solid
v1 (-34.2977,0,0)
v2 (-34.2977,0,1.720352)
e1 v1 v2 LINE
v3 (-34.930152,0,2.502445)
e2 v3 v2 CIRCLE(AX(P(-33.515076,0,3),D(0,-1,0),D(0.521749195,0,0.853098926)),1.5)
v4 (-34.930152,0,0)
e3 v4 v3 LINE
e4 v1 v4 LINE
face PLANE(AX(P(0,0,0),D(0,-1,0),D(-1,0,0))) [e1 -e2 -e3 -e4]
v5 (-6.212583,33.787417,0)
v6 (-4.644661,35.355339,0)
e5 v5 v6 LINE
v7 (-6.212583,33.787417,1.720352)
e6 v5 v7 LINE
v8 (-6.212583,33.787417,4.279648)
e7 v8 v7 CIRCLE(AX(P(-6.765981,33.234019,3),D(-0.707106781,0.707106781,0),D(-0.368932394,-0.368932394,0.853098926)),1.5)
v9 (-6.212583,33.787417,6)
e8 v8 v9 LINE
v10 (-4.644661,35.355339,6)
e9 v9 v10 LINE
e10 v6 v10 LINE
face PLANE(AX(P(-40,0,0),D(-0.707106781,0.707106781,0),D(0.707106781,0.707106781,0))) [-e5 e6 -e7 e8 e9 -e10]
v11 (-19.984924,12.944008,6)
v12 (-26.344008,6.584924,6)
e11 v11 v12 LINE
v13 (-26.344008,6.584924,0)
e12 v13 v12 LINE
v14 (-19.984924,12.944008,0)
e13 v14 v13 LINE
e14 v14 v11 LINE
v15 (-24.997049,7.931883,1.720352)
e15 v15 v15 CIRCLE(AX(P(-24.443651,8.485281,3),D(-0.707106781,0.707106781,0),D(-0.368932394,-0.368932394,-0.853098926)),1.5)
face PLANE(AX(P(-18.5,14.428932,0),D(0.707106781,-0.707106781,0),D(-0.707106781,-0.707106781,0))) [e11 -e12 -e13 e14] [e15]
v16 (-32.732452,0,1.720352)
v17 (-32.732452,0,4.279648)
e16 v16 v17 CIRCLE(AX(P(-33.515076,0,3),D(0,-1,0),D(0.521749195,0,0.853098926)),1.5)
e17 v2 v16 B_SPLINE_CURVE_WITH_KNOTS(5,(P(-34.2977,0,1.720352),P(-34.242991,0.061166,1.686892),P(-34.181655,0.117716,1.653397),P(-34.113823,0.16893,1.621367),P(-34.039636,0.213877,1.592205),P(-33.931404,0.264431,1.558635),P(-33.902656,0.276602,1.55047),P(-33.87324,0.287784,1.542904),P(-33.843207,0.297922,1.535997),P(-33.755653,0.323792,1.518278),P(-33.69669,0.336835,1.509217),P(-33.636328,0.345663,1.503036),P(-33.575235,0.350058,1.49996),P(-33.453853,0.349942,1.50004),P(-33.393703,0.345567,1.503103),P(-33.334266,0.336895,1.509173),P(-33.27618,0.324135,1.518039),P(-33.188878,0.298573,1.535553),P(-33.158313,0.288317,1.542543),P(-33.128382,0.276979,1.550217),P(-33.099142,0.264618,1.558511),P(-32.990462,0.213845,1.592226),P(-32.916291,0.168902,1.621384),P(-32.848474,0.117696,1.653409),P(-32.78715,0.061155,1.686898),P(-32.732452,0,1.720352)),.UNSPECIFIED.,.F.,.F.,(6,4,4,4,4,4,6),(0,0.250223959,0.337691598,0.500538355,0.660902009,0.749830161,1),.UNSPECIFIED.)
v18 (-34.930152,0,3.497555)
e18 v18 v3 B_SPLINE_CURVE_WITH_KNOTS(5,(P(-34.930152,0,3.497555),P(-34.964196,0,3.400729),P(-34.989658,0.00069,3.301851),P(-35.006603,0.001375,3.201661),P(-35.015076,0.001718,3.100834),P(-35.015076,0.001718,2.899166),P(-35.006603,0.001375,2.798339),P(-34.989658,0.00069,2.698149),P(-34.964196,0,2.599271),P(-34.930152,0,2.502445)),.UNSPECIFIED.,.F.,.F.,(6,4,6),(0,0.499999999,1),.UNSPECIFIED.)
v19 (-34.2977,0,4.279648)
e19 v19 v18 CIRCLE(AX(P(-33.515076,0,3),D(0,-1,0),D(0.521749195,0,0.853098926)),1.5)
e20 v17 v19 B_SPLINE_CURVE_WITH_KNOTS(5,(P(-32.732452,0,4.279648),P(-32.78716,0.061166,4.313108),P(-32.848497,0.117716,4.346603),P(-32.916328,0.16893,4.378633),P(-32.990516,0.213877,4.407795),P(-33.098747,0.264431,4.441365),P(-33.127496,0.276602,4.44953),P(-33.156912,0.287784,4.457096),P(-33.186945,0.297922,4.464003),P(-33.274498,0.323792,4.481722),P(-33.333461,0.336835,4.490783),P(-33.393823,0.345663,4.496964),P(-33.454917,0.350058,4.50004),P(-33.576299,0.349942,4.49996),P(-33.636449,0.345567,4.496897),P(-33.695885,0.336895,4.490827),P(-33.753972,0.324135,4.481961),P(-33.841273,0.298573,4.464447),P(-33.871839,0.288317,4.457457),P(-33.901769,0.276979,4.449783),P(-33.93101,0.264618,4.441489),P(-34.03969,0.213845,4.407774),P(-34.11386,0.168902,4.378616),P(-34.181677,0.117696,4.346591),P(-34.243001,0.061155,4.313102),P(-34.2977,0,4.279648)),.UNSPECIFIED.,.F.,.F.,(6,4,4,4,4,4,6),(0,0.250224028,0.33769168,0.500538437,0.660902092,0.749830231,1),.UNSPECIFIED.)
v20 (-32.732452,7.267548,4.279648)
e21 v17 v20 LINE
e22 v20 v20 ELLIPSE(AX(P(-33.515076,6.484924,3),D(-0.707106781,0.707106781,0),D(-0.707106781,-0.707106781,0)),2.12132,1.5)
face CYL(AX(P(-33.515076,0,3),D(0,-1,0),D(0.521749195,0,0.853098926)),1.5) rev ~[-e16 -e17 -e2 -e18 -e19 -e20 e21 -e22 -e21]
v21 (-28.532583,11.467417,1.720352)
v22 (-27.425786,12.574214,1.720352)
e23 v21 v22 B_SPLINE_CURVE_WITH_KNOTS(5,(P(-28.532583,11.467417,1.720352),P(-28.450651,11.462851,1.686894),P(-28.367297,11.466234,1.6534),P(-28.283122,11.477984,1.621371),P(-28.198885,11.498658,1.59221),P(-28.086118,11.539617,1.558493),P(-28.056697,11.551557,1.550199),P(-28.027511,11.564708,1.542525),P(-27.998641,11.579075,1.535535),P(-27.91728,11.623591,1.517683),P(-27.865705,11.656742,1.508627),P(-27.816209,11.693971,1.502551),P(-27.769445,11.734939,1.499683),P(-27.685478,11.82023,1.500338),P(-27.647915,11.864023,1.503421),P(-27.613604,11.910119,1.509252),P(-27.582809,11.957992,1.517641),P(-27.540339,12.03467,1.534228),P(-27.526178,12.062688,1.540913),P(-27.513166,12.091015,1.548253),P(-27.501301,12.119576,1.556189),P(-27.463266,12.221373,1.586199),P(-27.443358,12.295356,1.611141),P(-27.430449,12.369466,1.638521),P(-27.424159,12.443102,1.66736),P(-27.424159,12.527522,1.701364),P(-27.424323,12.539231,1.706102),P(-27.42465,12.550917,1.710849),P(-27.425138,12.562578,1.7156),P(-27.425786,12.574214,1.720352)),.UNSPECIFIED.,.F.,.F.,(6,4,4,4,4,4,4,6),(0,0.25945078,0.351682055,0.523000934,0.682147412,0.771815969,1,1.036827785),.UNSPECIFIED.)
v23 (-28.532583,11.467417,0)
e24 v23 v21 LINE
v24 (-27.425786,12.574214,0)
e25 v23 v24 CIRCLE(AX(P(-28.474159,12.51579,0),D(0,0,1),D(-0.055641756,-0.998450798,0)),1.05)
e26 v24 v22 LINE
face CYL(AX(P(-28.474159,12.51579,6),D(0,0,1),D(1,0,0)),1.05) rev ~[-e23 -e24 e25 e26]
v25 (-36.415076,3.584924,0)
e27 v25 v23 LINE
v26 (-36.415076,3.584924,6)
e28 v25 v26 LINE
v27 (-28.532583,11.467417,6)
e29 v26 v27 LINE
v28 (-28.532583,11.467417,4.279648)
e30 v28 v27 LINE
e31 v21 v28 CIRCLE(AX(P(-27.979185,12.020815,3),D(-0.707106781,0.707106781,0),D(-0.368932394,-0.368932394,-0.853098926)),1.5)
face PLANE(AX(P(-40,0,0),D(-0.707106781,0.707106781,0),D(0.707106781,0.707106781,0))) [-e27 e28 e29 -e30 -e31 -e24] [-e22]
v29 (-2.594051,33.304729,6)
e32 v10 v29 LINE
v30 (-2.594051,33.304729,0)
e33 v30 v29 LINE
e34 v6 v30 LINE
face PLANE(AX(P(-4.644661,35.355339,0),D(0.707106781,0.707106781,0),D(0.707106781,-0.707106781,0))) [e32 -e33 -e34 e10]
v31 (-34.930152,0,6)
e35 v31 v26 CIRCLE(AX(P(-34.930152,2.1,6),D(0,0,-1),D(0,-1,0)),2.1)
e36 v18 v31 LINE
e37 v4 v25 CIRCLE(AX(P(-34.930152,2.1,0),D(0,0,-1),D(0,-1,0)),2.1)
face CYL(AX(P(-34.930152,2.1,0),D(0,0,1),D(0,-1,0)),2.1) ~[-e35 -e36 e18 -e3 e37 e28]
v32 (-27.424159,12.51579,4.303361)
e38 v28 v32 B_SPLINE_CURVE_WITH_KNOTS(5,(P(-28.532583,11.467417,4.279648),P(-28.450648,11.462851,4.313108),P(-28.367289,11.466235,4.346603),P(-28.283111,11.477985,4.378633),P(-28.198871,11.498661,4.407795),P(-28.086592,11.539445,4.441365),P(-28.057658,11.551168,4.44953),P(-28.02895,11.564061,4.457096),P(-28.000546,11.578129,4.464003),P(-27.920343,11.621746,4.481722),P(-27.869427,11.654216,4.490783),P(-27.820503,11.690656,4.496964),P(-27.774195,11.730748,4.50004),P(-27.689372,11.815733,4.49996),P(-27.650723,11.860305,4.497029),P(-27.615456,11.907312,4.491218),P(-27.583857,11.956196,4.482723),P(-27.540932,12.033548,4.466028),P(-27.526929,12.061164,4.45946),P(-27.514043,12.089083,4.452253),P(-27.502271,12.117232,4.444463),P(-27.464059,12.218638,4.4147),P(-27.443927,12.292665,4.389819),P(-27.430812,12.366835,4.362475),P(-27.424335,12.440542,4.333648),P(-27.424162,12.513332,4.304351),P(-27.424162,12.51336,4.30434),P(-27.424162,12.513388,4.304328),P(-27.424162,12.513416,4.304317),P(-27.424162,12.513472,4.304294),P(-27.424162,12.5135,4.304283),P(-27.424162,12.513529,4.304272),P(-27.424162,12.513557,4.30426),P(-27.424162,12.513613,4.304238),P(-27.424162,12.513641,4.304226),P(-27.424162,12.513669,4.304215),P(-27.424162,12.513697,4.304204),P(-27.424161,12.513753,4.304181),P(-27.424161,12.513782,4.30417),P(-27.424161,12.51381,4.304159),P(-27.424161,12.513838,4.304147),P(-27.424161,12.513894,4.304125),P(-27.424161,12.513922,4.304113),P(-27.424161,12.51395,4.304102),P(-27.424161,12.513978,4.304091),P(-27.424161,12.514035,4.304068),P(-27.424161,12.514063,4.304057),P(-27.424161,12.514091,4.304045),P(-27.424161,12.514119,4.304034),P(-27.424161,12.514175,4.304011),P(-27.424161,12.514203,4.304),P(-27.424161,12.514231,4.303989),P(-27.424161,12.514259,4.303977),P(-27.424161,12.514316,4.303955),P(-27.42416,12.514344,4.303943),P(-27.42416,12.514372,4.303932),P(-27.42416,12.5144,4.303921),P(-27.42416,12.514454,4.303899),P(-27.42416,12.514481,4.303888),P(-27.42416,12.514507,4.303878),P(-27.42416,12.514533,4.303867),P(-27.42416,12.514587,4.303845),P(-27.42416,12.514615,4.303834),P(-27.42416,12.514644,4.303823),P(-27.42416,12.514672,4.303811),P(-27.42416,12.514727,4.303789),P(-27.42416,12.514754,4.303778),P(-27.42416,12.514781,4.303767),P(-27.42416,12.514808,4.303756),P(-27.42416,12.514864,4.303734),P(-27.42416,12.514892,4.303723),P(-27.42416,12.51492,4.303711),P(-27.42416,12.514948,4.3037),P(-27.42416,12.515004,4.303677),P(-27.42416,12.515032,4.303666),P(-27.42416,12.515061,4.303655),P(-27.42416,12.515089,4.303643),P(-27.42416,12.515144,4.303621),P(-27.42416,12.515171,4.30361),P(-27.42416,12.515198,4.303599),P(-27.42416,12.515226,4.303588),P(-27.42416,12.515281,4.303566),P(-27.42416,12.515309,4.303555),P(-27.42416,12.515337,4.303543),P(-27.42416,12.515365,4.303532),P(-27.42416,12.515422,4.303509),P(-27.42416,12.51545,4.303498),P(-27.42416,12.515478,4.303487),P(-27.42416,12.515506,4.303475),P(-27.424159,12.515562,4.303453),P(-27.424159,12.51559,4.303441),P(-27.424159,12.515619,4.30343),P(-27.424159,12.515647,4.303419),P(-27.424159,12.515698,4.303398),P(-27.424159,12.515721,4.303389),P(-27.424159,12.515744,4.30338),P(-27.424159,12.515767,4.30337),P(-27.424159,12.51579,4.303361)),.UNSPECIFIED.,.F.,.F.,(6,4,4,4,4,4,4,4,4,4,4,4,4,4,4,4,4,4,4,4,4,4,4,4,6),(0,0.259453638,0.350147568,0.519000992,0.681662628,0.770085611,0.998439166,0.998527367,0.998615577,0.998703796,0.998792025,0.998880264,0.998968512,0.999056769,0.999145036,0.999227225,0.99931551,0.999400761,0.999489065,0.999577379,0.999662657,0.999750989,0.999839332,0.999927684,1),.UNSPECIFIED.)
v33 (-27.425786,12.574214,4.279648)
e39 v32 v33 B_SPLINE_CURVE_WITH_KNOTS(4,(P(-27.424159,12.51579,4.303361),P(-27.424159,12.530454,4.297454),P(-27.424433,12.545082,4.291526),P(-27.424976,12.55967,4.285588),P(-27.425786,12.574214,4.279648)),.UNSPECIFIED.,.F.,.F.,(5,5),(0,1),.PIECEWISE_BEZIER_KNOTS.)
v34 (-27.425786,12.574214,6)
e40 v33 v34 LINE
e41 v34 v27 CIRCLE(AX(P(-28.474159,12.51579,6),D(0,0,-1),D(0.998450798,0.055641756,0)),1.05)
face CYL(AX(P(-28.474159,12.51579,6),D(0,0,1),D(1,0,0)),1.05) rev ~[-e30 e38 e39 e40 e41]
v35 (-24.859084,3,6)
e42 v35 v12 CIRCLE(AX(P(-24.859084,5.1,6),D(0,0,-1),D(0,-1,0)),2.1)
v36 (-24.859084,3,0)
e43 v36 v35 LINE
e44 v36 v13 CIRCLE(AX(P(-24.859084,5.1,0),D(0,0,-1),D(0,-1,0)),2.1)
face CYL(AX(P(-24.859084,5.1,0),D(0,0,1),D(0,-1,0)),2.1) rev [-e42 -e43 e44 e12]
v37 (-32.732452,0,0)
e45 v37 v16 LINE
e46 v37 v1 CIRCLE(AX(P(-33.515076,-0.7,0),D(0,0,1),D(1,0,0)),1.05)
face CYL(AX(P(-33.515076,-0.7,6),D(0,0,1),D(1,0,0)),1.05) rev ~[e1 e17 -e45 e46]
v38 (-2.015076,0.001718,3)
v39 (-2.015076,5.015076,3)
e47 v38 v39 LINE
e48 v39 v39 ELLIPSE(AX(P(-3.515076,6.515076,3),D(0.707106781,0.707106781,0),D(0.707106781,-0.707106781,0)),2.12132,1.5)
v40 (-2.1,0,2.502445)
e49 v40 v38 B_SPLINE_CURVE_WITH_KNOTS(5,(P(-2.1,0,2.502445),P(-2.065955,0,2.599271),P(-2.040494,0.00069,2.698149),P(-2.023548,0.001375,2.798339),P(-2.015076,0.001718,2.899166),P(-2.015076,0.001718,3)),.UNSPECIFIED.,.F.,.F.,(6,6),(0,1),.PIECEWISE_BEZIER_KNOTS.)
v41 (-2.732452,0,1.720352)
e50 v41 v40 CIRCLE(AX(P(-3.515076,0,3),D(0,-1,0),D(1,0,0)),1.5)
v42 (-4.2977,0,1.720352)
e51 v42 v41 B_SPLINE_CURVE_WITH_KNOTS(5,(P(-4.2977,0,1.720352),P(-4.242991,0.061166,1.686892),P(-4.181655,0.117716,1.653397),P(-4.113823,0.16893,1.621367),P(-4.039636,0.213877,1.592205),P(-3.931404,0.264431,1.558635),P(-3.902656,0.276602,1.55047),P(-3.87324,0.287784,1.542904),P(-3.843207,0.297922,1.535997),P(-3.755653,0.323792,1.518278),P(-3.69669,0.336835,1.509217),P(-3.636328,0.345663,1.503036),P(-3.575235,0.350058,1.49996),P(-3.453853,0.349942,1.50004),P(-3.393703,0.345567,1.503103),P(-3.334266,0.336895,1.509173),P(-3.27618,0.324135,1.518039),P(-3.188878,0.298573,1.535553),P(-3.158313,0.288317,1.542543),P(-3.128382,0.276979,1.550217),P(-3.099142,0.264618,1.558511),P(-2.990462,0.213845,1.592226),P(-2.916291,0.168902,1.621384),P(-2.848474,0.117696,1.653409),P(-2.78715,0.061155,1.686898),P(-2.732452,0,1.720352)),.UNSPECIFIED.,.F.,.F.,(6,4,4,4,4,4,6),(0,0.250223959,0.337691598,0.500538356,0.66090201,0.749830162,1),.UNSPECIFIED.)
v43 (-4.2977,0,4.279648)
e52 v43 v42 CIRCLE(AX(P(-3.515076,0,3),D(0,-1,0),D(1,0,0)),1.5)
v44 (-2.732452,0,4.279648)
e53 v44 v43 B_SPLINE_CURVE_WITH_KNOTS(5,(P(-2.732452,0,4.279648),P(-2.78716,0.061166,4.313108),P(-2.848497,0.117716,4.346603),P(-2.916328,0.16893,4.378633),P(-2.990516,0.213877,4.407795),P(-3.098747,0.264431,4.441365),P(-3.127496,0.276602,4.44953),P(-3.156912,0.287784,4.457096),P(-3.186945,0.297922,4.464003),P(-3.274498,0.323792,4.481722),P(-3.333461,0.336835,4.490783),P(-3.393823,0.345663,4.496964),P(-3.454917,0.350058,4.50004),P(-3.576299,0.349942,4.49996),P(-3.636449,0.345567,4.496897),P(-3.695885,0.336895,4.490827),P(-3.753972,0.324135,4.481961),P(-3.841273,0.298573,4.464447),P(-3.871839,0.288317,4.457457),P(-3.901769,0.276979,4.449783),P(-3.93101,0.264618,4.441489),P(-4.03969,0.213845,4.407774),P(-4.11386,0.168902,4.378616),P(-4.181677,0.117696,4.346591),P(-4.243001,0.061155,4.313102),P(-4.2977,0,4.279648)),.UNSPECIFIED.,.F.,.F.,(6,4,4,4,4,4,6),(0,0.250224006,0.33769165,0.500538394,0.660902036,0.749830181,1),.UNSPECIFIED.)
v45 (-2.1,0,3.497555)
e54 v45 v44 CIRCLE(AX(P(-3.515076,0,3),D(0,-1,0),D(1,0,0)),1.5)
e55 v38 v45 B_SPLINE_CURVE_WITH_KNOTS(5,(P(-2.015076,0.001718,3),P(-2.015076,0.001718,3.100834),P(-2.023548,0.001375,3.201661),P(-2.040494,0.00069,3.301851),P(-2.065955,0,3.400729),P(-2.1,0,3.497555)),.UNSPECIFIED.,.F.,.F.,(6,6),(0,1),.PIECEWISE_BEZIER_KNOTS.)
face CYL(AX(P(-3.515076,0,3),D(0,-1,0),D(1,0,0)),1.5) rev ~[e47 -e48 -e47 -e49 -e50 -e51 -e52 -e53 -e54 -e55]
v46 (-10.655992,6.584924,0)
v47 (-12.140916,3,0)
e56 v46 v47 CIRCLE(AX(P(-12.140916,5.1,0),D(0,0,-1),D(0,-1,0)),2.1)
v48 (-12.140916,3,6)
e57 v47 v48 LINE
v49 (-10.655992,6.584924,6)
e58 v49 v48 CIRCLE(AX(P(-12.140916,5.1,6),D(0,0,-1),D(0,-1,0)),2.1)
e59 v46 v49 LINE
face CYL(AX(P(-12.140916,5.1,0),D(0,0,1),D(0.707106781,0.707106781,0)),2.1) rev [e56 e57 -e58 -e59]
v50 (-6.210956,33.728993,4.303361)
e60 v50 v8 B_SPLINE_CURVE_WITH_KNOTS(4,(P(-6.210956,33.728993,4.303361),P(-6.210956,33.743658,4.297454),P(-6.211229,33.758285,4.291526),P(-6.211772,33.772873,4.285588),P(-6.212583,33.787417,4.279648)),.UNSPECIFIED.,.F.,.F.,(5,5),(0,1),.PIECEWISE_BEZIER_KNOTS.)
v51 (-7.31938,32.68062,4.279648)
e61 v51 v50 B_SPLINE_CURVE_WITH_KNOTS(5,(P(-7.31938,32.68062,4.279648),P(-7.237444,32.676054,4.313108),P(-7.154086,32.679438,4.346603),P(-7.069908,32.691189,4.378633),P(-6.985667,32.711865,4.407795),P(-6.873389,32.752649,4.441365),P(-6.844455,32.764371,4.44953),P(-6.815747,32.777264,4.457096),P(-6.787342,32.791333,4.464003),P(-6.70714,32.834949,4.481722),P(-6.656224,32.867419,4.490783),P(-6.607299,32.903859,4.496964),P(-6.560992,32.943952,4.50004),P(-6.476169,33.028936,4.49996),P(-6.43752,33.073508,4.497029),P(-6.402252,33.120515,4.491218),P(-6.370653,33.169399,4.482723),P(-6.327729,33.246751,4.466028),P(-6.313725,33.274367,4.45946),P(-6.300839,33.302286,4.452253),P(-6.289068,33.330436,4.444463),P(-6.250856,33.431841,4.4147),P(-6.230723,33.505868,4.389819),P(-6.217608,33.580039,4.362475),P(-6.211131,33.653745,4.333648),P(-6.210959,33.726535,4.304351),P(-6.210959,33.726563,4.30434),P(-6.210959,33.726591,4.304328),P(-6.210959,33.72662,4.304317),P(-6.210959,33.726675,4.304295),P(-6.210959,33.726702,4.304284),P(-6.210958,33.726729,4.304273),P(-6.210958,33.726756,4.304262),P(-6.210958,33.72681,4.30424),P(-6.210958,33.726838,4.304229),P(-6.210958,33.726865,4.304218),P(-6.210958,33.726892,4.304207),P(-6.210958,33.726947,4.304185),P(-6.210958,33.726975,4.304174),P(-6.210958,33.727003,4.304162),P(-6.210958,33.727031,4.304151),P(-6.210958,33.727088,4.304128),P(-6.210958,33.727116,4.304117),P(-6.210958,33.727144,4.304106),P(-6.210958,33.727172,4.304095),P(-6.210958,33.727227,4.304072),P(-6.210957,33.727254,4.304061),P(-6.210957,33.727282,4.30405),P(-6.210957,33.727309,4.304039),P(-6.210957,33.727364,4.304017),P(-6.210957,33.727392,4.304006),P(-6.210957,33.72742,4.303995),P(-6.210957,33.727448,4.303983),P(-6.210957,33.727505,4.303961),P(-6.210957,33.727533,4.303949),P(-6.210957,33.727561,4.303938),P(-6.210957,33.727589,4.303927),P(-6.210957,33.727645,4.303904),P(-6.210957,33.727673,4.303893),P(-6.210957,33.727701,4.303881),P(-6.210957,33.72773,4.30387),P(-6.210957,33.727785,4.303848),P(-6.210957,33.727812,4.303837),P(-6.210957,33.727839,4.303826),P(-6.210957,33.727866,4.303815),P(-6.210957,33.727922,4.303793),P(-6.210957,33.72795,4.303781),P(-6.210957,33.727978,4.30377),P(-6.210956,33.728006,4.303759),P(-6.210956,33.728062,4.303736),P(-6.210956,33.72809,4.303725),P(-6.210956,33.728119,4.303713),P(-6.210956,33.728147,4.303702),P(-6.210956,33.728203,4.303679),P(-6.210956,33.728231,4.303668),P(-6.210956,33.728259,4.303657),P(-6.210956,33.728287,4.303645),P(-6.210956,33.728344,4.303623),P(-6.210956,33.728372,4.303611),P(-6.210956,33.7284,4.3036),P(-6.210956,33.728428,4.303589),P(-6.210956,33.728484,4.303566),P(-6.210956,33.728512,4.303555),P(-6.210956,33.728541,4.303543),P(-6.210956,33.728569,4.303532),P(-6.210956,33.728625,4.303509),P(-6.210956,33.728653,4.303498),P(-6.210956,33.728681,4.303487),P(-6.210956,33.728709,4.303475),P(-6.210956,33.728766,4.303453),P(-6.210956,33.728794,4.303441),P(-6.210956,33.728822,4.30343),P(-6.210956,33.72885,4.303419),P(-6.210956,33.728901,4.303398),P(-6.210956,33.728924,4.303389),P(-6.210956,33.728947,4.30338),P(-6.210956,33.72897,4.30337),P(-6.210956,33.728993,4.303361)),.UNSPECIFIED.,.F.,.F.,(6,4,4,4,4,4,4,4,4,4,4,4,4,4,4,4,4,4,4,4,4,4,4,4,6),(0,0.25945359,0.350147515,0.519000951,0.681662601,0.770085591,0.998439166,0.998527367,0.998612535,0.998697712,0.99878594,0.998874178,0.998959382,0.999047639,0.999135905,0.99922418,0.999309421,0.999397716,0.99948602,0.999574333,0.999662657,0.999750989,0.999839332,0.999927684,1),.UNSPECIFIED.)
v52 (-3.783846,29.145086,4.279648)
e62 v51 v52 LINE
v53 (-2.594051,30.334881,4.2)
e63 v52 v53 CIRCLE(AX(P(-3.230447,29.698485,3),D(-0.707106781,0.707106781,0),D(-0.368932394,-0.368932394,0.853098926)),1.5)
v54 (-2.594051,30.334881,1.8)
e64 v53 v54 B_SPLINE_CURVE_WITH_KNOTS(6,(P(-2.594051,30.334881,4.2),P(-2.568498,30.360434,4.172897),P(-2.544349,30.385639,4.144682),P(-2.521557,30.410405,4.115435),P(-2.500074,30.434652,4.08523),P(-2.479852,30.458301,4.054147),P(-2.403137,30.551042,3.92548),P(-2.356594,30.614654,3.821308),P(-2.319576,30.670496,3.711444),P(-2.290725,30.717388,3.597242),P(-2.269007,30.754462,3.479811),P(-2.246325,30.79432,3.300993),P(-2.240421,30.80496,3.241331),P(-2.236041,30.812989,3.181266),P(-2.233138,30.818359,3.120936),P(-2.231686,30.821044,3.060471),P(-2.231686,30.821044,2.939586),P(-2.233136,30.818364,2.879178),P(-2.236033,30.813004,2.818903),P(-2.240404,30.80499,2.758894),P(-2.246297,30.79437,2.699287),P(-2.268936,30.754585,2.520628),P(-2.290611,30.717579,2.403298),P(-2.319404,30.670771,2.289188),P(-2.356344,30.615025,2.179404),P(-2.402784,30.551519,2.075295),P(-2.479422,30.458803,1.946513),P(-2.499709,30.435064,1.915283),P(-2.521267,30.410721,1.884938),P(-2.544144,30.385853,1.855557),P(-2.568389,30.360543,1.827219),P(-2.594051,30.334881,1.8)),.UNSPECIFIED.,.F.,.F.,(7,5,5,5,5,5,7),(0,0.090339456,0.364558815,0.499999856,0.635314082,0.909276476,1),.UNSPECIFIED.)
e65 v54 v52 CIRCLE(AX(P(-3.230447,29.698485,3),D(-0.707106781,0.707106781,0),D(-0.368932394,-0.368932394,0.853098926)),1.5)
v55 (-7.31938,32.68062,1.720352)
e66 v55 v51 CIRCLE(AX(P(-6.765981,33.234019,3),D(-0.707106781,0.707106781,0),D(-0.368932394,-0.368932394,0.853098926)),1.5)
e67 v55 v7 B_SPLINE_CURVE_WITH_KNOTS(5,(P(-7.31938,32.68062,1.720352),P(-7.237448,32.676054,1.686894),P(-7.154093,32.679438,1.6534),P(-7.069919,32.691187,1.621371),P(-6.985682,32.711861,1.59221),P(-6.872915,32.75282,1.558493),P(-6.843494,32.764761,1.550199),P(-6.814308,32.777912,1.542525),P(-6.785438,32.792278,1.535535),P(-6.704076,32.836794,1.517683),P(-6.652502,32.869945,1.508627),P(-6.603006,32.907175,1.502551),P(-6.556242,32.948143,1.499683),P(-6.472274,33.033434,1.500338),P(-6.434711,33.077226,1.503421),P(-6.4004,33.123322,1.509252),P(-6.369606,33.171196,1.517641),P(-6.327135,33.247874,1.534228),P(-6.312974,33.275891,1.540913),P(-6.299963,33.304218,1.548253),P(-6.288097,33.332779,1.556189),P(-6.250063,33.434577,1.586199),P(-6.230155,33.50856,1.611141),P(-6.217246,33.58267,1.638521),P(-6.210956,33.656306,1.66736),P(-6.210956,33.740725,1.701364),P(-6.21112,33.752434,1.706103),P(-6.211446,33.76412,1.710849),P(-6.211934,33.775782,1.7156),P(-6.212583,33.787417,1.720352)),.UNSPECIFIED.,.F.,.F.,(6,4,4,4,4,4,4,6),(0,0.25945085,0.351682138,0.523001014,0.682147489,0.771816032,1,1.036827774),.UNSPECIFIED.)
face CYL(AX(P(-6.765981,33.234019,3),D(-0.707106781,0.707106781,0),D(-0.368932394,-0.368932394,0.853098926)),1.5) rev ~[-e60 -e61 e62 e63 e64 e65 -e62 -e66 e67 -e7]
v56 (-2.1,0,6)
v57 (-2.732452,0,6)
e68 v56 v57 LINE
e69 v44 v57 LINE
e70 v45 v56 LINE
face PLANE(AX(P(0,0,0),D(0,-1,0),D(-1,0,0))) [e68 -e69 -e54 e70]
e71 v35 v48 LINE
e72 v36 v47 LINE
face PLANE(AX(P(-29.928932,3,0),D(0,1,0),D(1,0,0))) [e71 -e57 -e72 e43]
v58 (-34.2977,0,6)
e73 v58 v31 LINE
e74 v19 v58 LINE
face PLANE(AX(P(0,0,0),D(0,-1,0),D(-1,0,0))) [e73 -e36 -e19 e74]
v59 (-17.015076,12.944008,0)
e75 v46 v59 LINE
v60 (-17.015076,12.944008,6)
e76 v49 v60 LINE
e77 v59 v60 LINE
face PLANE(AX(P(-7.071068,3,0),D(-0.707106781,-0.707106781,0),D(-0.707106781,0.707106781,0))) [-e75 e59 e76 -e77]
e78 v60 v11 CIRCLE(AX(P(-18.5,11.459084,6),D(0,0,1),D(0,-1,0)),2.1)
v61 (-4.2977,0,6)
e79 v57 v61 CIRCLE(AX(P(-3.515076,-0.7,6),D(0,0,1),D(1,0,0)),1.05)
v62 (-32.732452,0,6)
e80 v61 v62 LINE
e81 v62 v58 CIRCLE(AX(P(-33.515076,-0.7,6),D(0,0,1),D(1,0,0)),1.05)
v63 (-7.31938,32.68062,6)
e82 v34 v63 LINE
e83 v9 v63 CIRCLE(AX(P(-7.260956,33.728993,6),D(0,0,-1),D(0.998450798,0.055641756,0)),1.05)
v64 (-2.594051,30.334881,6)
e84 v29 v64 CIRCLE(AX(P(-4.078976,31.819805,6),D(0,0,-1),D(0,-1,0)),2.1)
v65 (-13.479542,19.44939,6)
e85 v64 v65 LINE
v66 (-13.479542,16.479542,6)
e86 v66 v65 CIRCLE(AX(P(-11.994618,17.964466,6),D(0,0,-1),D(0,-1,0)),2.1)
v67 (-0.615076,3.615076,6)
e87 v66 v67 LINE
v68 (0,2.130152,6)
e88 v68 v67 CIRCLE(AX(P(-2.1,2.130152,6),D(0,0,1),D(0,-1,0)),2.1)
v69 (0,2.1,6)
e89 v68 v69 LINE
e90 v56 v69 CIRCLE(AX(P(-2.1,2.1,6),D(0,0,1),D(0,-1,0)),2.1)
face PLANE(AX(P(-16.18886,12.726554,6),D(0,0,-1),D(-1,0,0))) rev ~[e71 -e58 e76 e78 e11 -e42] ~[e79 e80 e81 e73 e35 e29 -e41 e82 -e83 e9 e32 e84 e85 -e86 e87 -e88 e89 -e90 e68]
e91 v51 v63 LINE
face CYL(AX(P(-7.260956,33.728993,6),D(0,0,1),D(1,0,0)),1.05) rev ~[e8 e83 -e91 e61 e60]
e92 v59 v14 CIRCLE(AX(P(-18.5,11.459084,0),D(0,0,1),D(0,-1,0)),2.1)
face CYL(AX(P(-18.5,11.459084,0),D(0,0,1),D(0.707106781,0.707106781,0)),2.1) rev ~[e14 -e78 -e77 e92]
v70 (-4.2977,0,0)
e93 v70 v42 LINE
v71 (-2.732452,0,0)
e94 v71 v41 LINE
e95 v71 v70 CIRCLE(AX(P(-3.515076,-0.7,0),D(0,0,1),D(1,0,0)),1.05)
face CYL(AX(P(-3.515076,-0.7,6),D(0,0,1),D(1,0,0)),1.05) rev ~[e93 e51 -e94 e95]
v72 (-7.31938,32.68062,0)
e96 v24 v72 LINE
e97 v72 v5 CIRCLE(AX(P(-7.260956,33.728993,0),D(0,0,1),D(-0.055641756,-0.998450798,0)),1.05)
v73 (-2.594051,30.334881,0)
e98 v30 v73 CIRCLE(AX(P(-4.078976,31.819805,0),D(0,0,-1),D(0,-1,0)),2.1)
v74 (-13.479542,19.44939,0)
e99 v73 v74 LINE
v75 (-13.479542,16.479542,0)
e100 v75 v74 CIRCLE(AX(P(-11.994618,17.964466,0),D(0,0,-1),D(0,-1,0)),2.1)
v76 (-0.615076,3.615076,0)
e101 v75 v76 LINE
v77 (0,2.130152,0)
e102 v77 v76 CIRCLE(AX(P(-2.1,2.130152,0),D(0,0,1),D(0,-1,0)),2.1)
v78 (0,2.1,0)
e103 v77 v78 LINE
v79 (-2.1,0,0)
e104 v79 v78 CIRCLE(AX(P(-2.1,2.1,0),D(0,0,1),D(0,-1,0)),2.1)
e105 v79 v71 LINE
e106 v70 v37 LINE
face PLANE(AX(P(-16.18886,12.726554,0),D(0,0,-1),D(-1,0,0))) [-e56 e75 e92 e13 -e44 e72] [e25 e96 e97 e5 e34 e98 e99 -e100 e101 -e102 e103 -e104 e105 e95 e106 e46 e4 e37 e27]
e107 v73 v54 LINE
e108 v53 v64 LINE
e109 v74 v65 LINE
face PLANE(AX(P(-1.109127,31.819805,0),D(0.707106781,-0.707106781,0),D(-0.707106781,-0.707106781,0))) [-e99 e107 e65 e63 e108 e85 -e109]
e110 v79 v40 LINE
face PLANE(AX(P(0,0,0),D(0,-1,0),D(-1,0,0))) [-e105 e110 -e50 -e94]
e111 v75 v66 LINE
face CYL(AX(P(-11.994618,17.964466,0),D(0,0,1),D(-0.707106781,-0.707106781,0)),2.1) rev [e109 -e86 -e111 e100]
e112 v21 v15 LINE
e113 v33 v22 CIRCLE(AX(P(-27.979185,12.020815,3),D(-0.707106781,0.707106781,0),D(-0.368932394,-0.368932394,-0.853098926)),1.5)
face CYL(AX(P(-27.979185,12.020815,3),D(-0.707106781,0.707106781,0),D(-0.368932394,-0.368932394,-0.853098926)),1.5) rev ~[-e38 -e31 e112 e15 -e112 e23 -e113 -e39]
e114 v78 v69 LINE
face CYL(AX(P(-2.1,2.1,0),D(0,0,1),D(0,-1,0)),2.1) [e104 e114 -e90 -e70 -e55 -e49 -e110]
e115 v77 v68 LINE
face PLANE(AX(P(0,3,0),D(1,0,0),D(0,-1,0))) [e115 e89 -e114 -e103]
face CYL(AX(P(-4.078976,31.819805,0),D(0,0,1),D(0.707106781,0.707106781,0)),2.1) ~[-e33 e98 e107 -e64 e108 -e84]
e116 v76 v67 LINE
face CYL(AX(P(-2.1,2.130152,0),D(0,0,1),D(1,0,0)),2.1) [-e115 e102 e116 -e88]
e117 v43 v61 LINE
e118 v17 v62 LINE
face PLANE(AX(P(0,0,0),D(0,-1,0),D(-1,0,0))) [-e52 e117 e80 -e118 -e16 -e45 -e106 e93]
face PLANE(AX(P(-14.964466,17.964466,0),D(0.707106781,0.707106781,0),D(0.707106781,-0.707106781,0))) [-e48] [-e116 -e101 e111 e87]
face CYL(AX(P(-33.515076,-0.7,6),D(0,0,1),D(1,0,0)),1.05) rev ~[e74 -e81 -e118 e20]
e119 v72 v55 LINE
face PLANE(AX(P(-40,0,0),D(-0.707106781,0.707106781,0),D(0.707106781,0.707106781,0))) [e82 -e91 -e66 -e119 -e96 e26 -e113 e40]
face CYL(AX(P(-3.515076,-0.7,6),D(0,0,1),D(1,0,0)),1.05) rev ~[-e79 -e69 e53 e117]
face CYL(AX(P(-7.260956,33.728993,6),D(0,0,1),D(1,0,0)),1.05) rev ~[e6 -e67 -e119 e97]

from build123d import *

# Parameters (mm, degrees)
EXTRUDE_1_DEPTH     = 6
FILLET_1_R          = 2.1
SKETCH_2_R          = 1.05
CUT_EXTRUDE_1_DEPTH = 52.548347418
CUT_EXTRUDE_2_REACH = 30.914
SKETCH_3_R          = 1.5
CUT_EXTRUDE_3_REACH = 53.548
SKETCH_4_R          = 1.5


with BuildPart() as part:
    # ｽｹｯﾁ1 → ﾎﾞｽ - 押し出し1 (new body)
    with BuildSketch(Plane.XY):
        Polygon((0, 0), (-40, 0), (-4.644660941, 35.355339059), (-1.109127035, 31.819805153), (-14.964466094, 17.964466094), (0, 3), align=None)
        Polygon((-18.5, 14.428932188), (-29.928932188, 3), (-7.071067812, 3), align=None, mode=Mode.SUBTRACT)
    extrude(amount=EXTRUDE_1_DEPTH)

    # ﾌｨﾚｯﾄ1
    fillet_1_edges = [part.edges().sort_by_distance(p)[0] for p in [
        (0, 0, 3),
        (-40, 0, 3),
        (-1.109127035, 31.819805153, 3),
        (-14.964466094, 17.964466094, 3),
        (0, 3, 3),
        (-7.071067812, 3, 3),
        (-18.5, 14.428932188, 3),
        (-29.928932188, 3, 3),
    ]]
    fillet(fillet_1_edges, radius=FILLET_1_R)

    # ｽｹｯﾁ2 → ｶｯﾄ - 押し出し1 (cut, through all)
    with BuildSketch(Plane.XY.offset(6)):
        with Locations((-33.51507576, -0.7)):
            Circle(SKETCH_2_R)
        with Locations((-3.51507576, -0.7)):
            Circle(SKETCH_2_R)
        with Locations((-7.260956031, 33.728993463)):
            Circle(SKETCH_2_R)
        with Locations((-28.474159467, 12.515790027)):
            Circle(SKETCH_2_R)
    extrude(amount=-CUT_EXTRUDE_1_DEPTH, mode=Mode.SUBTRACT)

    # ｽｹｯﾁ3 → ｶｯﾄ - 押し出し2 (cut, up to next)
    with BuildSketch(Plane(origin=(-20, 20, 0), x_dir=(0, 0, 1), z_dir=(-0.7071067811865439, 0.7071067811865511, 0)), mode=Mode.PRIVATE) as cut_extrude_2_sk1:
        with Locations(Location((3, 18.715728753, 0), (0, 0, 328.550342674))):
            Circle(SKETCH_3_R)
    cut_extrude_2_tool1 = extrude(cut_extrude_2_sk1.sketch, amount=-CUT_EXTRUDE_2_REACH, mode=Mode.PRIVATE) & part.part
    # ｽｹｯﾁ3 → ｶｯﾄ - 押し出し2 (cut, up to next)
    with BuildSketch(Plane(origin=(-20, 20, 0), x_dir=(0, 0, 1), z_dir=(-0.7071067811865439, 0.7071067811865511, 0)), mode=Mode.PRIVATE) as cut_extrude_2_sk2:
        with Locations(Location((3, -11.284271247, 0), (0, 0, 211.449657326))):
            Circle(SKETCH_3_R)
    cut_extrude_2_tool2 = extrude(cut_extrude_2_sk2.sketch, amount=-CUT_EXTRUDE_2_REACH, mode=Mode.PRIVATE) & part.part
    add(cut_extrude_2_tool1.solids().sort_by_distance((-6.765981, 33.234019, 3))[0], mode=Mode.SUBTRACT)
    add(cut_extrude_2_tool2.solids().sort_by_distance((-27.979185, 12.020815, 3))[0], mode=Mode.SUBTRACT)

    # ｽｹｯﾁ4 → ｶｯﾄ - 押し出し3 (cut, up to next)
    with BuildSketch(Plane.XZ, mode=Mode.PRIVATE) as cut_extrude_3_sk1:
        with Locations(Location((-33.51507576, 3, 0), (0, 0, 58.550342674))):
            Circle(SKETCH_4_R)
    cut_extrude_3_tool1 = extrude(cut_extrude_3_sk1.sketch, amount=-CUT_EXTRUDE_3_REACH, mode=Mode.PRIVATE) & part.part
    # ｽｹｯﾁ4 → ｶｯﾄ - 押し出し3 (cut, up to next)
    with BuildSketch(Plane.XZ, mode=Mode.PRIVATE) as cut_extrude_3_sk2:
        with Locations((-3.51507576, 3)):
            Circle(SKETCH_4_R)
    cut_extrude_3_tool2 = extrude(cut_extrude_3_sk2.sketch, amount=-CUT_EXTRUDE_3_REACH, mode=Mode.PRIVATE) & part.part
    add(cut_extrude_3_tool1.solids().sort_by_distance((-33.515076, 0, 3))[0], mode=Mode.SUBTRACT)
    add(cut_extrude_3_tool2.solids().sort_by_distance((-3.515076, 0, 3))[0], mode=Mode.SUBTRACT)


solid = part.part
